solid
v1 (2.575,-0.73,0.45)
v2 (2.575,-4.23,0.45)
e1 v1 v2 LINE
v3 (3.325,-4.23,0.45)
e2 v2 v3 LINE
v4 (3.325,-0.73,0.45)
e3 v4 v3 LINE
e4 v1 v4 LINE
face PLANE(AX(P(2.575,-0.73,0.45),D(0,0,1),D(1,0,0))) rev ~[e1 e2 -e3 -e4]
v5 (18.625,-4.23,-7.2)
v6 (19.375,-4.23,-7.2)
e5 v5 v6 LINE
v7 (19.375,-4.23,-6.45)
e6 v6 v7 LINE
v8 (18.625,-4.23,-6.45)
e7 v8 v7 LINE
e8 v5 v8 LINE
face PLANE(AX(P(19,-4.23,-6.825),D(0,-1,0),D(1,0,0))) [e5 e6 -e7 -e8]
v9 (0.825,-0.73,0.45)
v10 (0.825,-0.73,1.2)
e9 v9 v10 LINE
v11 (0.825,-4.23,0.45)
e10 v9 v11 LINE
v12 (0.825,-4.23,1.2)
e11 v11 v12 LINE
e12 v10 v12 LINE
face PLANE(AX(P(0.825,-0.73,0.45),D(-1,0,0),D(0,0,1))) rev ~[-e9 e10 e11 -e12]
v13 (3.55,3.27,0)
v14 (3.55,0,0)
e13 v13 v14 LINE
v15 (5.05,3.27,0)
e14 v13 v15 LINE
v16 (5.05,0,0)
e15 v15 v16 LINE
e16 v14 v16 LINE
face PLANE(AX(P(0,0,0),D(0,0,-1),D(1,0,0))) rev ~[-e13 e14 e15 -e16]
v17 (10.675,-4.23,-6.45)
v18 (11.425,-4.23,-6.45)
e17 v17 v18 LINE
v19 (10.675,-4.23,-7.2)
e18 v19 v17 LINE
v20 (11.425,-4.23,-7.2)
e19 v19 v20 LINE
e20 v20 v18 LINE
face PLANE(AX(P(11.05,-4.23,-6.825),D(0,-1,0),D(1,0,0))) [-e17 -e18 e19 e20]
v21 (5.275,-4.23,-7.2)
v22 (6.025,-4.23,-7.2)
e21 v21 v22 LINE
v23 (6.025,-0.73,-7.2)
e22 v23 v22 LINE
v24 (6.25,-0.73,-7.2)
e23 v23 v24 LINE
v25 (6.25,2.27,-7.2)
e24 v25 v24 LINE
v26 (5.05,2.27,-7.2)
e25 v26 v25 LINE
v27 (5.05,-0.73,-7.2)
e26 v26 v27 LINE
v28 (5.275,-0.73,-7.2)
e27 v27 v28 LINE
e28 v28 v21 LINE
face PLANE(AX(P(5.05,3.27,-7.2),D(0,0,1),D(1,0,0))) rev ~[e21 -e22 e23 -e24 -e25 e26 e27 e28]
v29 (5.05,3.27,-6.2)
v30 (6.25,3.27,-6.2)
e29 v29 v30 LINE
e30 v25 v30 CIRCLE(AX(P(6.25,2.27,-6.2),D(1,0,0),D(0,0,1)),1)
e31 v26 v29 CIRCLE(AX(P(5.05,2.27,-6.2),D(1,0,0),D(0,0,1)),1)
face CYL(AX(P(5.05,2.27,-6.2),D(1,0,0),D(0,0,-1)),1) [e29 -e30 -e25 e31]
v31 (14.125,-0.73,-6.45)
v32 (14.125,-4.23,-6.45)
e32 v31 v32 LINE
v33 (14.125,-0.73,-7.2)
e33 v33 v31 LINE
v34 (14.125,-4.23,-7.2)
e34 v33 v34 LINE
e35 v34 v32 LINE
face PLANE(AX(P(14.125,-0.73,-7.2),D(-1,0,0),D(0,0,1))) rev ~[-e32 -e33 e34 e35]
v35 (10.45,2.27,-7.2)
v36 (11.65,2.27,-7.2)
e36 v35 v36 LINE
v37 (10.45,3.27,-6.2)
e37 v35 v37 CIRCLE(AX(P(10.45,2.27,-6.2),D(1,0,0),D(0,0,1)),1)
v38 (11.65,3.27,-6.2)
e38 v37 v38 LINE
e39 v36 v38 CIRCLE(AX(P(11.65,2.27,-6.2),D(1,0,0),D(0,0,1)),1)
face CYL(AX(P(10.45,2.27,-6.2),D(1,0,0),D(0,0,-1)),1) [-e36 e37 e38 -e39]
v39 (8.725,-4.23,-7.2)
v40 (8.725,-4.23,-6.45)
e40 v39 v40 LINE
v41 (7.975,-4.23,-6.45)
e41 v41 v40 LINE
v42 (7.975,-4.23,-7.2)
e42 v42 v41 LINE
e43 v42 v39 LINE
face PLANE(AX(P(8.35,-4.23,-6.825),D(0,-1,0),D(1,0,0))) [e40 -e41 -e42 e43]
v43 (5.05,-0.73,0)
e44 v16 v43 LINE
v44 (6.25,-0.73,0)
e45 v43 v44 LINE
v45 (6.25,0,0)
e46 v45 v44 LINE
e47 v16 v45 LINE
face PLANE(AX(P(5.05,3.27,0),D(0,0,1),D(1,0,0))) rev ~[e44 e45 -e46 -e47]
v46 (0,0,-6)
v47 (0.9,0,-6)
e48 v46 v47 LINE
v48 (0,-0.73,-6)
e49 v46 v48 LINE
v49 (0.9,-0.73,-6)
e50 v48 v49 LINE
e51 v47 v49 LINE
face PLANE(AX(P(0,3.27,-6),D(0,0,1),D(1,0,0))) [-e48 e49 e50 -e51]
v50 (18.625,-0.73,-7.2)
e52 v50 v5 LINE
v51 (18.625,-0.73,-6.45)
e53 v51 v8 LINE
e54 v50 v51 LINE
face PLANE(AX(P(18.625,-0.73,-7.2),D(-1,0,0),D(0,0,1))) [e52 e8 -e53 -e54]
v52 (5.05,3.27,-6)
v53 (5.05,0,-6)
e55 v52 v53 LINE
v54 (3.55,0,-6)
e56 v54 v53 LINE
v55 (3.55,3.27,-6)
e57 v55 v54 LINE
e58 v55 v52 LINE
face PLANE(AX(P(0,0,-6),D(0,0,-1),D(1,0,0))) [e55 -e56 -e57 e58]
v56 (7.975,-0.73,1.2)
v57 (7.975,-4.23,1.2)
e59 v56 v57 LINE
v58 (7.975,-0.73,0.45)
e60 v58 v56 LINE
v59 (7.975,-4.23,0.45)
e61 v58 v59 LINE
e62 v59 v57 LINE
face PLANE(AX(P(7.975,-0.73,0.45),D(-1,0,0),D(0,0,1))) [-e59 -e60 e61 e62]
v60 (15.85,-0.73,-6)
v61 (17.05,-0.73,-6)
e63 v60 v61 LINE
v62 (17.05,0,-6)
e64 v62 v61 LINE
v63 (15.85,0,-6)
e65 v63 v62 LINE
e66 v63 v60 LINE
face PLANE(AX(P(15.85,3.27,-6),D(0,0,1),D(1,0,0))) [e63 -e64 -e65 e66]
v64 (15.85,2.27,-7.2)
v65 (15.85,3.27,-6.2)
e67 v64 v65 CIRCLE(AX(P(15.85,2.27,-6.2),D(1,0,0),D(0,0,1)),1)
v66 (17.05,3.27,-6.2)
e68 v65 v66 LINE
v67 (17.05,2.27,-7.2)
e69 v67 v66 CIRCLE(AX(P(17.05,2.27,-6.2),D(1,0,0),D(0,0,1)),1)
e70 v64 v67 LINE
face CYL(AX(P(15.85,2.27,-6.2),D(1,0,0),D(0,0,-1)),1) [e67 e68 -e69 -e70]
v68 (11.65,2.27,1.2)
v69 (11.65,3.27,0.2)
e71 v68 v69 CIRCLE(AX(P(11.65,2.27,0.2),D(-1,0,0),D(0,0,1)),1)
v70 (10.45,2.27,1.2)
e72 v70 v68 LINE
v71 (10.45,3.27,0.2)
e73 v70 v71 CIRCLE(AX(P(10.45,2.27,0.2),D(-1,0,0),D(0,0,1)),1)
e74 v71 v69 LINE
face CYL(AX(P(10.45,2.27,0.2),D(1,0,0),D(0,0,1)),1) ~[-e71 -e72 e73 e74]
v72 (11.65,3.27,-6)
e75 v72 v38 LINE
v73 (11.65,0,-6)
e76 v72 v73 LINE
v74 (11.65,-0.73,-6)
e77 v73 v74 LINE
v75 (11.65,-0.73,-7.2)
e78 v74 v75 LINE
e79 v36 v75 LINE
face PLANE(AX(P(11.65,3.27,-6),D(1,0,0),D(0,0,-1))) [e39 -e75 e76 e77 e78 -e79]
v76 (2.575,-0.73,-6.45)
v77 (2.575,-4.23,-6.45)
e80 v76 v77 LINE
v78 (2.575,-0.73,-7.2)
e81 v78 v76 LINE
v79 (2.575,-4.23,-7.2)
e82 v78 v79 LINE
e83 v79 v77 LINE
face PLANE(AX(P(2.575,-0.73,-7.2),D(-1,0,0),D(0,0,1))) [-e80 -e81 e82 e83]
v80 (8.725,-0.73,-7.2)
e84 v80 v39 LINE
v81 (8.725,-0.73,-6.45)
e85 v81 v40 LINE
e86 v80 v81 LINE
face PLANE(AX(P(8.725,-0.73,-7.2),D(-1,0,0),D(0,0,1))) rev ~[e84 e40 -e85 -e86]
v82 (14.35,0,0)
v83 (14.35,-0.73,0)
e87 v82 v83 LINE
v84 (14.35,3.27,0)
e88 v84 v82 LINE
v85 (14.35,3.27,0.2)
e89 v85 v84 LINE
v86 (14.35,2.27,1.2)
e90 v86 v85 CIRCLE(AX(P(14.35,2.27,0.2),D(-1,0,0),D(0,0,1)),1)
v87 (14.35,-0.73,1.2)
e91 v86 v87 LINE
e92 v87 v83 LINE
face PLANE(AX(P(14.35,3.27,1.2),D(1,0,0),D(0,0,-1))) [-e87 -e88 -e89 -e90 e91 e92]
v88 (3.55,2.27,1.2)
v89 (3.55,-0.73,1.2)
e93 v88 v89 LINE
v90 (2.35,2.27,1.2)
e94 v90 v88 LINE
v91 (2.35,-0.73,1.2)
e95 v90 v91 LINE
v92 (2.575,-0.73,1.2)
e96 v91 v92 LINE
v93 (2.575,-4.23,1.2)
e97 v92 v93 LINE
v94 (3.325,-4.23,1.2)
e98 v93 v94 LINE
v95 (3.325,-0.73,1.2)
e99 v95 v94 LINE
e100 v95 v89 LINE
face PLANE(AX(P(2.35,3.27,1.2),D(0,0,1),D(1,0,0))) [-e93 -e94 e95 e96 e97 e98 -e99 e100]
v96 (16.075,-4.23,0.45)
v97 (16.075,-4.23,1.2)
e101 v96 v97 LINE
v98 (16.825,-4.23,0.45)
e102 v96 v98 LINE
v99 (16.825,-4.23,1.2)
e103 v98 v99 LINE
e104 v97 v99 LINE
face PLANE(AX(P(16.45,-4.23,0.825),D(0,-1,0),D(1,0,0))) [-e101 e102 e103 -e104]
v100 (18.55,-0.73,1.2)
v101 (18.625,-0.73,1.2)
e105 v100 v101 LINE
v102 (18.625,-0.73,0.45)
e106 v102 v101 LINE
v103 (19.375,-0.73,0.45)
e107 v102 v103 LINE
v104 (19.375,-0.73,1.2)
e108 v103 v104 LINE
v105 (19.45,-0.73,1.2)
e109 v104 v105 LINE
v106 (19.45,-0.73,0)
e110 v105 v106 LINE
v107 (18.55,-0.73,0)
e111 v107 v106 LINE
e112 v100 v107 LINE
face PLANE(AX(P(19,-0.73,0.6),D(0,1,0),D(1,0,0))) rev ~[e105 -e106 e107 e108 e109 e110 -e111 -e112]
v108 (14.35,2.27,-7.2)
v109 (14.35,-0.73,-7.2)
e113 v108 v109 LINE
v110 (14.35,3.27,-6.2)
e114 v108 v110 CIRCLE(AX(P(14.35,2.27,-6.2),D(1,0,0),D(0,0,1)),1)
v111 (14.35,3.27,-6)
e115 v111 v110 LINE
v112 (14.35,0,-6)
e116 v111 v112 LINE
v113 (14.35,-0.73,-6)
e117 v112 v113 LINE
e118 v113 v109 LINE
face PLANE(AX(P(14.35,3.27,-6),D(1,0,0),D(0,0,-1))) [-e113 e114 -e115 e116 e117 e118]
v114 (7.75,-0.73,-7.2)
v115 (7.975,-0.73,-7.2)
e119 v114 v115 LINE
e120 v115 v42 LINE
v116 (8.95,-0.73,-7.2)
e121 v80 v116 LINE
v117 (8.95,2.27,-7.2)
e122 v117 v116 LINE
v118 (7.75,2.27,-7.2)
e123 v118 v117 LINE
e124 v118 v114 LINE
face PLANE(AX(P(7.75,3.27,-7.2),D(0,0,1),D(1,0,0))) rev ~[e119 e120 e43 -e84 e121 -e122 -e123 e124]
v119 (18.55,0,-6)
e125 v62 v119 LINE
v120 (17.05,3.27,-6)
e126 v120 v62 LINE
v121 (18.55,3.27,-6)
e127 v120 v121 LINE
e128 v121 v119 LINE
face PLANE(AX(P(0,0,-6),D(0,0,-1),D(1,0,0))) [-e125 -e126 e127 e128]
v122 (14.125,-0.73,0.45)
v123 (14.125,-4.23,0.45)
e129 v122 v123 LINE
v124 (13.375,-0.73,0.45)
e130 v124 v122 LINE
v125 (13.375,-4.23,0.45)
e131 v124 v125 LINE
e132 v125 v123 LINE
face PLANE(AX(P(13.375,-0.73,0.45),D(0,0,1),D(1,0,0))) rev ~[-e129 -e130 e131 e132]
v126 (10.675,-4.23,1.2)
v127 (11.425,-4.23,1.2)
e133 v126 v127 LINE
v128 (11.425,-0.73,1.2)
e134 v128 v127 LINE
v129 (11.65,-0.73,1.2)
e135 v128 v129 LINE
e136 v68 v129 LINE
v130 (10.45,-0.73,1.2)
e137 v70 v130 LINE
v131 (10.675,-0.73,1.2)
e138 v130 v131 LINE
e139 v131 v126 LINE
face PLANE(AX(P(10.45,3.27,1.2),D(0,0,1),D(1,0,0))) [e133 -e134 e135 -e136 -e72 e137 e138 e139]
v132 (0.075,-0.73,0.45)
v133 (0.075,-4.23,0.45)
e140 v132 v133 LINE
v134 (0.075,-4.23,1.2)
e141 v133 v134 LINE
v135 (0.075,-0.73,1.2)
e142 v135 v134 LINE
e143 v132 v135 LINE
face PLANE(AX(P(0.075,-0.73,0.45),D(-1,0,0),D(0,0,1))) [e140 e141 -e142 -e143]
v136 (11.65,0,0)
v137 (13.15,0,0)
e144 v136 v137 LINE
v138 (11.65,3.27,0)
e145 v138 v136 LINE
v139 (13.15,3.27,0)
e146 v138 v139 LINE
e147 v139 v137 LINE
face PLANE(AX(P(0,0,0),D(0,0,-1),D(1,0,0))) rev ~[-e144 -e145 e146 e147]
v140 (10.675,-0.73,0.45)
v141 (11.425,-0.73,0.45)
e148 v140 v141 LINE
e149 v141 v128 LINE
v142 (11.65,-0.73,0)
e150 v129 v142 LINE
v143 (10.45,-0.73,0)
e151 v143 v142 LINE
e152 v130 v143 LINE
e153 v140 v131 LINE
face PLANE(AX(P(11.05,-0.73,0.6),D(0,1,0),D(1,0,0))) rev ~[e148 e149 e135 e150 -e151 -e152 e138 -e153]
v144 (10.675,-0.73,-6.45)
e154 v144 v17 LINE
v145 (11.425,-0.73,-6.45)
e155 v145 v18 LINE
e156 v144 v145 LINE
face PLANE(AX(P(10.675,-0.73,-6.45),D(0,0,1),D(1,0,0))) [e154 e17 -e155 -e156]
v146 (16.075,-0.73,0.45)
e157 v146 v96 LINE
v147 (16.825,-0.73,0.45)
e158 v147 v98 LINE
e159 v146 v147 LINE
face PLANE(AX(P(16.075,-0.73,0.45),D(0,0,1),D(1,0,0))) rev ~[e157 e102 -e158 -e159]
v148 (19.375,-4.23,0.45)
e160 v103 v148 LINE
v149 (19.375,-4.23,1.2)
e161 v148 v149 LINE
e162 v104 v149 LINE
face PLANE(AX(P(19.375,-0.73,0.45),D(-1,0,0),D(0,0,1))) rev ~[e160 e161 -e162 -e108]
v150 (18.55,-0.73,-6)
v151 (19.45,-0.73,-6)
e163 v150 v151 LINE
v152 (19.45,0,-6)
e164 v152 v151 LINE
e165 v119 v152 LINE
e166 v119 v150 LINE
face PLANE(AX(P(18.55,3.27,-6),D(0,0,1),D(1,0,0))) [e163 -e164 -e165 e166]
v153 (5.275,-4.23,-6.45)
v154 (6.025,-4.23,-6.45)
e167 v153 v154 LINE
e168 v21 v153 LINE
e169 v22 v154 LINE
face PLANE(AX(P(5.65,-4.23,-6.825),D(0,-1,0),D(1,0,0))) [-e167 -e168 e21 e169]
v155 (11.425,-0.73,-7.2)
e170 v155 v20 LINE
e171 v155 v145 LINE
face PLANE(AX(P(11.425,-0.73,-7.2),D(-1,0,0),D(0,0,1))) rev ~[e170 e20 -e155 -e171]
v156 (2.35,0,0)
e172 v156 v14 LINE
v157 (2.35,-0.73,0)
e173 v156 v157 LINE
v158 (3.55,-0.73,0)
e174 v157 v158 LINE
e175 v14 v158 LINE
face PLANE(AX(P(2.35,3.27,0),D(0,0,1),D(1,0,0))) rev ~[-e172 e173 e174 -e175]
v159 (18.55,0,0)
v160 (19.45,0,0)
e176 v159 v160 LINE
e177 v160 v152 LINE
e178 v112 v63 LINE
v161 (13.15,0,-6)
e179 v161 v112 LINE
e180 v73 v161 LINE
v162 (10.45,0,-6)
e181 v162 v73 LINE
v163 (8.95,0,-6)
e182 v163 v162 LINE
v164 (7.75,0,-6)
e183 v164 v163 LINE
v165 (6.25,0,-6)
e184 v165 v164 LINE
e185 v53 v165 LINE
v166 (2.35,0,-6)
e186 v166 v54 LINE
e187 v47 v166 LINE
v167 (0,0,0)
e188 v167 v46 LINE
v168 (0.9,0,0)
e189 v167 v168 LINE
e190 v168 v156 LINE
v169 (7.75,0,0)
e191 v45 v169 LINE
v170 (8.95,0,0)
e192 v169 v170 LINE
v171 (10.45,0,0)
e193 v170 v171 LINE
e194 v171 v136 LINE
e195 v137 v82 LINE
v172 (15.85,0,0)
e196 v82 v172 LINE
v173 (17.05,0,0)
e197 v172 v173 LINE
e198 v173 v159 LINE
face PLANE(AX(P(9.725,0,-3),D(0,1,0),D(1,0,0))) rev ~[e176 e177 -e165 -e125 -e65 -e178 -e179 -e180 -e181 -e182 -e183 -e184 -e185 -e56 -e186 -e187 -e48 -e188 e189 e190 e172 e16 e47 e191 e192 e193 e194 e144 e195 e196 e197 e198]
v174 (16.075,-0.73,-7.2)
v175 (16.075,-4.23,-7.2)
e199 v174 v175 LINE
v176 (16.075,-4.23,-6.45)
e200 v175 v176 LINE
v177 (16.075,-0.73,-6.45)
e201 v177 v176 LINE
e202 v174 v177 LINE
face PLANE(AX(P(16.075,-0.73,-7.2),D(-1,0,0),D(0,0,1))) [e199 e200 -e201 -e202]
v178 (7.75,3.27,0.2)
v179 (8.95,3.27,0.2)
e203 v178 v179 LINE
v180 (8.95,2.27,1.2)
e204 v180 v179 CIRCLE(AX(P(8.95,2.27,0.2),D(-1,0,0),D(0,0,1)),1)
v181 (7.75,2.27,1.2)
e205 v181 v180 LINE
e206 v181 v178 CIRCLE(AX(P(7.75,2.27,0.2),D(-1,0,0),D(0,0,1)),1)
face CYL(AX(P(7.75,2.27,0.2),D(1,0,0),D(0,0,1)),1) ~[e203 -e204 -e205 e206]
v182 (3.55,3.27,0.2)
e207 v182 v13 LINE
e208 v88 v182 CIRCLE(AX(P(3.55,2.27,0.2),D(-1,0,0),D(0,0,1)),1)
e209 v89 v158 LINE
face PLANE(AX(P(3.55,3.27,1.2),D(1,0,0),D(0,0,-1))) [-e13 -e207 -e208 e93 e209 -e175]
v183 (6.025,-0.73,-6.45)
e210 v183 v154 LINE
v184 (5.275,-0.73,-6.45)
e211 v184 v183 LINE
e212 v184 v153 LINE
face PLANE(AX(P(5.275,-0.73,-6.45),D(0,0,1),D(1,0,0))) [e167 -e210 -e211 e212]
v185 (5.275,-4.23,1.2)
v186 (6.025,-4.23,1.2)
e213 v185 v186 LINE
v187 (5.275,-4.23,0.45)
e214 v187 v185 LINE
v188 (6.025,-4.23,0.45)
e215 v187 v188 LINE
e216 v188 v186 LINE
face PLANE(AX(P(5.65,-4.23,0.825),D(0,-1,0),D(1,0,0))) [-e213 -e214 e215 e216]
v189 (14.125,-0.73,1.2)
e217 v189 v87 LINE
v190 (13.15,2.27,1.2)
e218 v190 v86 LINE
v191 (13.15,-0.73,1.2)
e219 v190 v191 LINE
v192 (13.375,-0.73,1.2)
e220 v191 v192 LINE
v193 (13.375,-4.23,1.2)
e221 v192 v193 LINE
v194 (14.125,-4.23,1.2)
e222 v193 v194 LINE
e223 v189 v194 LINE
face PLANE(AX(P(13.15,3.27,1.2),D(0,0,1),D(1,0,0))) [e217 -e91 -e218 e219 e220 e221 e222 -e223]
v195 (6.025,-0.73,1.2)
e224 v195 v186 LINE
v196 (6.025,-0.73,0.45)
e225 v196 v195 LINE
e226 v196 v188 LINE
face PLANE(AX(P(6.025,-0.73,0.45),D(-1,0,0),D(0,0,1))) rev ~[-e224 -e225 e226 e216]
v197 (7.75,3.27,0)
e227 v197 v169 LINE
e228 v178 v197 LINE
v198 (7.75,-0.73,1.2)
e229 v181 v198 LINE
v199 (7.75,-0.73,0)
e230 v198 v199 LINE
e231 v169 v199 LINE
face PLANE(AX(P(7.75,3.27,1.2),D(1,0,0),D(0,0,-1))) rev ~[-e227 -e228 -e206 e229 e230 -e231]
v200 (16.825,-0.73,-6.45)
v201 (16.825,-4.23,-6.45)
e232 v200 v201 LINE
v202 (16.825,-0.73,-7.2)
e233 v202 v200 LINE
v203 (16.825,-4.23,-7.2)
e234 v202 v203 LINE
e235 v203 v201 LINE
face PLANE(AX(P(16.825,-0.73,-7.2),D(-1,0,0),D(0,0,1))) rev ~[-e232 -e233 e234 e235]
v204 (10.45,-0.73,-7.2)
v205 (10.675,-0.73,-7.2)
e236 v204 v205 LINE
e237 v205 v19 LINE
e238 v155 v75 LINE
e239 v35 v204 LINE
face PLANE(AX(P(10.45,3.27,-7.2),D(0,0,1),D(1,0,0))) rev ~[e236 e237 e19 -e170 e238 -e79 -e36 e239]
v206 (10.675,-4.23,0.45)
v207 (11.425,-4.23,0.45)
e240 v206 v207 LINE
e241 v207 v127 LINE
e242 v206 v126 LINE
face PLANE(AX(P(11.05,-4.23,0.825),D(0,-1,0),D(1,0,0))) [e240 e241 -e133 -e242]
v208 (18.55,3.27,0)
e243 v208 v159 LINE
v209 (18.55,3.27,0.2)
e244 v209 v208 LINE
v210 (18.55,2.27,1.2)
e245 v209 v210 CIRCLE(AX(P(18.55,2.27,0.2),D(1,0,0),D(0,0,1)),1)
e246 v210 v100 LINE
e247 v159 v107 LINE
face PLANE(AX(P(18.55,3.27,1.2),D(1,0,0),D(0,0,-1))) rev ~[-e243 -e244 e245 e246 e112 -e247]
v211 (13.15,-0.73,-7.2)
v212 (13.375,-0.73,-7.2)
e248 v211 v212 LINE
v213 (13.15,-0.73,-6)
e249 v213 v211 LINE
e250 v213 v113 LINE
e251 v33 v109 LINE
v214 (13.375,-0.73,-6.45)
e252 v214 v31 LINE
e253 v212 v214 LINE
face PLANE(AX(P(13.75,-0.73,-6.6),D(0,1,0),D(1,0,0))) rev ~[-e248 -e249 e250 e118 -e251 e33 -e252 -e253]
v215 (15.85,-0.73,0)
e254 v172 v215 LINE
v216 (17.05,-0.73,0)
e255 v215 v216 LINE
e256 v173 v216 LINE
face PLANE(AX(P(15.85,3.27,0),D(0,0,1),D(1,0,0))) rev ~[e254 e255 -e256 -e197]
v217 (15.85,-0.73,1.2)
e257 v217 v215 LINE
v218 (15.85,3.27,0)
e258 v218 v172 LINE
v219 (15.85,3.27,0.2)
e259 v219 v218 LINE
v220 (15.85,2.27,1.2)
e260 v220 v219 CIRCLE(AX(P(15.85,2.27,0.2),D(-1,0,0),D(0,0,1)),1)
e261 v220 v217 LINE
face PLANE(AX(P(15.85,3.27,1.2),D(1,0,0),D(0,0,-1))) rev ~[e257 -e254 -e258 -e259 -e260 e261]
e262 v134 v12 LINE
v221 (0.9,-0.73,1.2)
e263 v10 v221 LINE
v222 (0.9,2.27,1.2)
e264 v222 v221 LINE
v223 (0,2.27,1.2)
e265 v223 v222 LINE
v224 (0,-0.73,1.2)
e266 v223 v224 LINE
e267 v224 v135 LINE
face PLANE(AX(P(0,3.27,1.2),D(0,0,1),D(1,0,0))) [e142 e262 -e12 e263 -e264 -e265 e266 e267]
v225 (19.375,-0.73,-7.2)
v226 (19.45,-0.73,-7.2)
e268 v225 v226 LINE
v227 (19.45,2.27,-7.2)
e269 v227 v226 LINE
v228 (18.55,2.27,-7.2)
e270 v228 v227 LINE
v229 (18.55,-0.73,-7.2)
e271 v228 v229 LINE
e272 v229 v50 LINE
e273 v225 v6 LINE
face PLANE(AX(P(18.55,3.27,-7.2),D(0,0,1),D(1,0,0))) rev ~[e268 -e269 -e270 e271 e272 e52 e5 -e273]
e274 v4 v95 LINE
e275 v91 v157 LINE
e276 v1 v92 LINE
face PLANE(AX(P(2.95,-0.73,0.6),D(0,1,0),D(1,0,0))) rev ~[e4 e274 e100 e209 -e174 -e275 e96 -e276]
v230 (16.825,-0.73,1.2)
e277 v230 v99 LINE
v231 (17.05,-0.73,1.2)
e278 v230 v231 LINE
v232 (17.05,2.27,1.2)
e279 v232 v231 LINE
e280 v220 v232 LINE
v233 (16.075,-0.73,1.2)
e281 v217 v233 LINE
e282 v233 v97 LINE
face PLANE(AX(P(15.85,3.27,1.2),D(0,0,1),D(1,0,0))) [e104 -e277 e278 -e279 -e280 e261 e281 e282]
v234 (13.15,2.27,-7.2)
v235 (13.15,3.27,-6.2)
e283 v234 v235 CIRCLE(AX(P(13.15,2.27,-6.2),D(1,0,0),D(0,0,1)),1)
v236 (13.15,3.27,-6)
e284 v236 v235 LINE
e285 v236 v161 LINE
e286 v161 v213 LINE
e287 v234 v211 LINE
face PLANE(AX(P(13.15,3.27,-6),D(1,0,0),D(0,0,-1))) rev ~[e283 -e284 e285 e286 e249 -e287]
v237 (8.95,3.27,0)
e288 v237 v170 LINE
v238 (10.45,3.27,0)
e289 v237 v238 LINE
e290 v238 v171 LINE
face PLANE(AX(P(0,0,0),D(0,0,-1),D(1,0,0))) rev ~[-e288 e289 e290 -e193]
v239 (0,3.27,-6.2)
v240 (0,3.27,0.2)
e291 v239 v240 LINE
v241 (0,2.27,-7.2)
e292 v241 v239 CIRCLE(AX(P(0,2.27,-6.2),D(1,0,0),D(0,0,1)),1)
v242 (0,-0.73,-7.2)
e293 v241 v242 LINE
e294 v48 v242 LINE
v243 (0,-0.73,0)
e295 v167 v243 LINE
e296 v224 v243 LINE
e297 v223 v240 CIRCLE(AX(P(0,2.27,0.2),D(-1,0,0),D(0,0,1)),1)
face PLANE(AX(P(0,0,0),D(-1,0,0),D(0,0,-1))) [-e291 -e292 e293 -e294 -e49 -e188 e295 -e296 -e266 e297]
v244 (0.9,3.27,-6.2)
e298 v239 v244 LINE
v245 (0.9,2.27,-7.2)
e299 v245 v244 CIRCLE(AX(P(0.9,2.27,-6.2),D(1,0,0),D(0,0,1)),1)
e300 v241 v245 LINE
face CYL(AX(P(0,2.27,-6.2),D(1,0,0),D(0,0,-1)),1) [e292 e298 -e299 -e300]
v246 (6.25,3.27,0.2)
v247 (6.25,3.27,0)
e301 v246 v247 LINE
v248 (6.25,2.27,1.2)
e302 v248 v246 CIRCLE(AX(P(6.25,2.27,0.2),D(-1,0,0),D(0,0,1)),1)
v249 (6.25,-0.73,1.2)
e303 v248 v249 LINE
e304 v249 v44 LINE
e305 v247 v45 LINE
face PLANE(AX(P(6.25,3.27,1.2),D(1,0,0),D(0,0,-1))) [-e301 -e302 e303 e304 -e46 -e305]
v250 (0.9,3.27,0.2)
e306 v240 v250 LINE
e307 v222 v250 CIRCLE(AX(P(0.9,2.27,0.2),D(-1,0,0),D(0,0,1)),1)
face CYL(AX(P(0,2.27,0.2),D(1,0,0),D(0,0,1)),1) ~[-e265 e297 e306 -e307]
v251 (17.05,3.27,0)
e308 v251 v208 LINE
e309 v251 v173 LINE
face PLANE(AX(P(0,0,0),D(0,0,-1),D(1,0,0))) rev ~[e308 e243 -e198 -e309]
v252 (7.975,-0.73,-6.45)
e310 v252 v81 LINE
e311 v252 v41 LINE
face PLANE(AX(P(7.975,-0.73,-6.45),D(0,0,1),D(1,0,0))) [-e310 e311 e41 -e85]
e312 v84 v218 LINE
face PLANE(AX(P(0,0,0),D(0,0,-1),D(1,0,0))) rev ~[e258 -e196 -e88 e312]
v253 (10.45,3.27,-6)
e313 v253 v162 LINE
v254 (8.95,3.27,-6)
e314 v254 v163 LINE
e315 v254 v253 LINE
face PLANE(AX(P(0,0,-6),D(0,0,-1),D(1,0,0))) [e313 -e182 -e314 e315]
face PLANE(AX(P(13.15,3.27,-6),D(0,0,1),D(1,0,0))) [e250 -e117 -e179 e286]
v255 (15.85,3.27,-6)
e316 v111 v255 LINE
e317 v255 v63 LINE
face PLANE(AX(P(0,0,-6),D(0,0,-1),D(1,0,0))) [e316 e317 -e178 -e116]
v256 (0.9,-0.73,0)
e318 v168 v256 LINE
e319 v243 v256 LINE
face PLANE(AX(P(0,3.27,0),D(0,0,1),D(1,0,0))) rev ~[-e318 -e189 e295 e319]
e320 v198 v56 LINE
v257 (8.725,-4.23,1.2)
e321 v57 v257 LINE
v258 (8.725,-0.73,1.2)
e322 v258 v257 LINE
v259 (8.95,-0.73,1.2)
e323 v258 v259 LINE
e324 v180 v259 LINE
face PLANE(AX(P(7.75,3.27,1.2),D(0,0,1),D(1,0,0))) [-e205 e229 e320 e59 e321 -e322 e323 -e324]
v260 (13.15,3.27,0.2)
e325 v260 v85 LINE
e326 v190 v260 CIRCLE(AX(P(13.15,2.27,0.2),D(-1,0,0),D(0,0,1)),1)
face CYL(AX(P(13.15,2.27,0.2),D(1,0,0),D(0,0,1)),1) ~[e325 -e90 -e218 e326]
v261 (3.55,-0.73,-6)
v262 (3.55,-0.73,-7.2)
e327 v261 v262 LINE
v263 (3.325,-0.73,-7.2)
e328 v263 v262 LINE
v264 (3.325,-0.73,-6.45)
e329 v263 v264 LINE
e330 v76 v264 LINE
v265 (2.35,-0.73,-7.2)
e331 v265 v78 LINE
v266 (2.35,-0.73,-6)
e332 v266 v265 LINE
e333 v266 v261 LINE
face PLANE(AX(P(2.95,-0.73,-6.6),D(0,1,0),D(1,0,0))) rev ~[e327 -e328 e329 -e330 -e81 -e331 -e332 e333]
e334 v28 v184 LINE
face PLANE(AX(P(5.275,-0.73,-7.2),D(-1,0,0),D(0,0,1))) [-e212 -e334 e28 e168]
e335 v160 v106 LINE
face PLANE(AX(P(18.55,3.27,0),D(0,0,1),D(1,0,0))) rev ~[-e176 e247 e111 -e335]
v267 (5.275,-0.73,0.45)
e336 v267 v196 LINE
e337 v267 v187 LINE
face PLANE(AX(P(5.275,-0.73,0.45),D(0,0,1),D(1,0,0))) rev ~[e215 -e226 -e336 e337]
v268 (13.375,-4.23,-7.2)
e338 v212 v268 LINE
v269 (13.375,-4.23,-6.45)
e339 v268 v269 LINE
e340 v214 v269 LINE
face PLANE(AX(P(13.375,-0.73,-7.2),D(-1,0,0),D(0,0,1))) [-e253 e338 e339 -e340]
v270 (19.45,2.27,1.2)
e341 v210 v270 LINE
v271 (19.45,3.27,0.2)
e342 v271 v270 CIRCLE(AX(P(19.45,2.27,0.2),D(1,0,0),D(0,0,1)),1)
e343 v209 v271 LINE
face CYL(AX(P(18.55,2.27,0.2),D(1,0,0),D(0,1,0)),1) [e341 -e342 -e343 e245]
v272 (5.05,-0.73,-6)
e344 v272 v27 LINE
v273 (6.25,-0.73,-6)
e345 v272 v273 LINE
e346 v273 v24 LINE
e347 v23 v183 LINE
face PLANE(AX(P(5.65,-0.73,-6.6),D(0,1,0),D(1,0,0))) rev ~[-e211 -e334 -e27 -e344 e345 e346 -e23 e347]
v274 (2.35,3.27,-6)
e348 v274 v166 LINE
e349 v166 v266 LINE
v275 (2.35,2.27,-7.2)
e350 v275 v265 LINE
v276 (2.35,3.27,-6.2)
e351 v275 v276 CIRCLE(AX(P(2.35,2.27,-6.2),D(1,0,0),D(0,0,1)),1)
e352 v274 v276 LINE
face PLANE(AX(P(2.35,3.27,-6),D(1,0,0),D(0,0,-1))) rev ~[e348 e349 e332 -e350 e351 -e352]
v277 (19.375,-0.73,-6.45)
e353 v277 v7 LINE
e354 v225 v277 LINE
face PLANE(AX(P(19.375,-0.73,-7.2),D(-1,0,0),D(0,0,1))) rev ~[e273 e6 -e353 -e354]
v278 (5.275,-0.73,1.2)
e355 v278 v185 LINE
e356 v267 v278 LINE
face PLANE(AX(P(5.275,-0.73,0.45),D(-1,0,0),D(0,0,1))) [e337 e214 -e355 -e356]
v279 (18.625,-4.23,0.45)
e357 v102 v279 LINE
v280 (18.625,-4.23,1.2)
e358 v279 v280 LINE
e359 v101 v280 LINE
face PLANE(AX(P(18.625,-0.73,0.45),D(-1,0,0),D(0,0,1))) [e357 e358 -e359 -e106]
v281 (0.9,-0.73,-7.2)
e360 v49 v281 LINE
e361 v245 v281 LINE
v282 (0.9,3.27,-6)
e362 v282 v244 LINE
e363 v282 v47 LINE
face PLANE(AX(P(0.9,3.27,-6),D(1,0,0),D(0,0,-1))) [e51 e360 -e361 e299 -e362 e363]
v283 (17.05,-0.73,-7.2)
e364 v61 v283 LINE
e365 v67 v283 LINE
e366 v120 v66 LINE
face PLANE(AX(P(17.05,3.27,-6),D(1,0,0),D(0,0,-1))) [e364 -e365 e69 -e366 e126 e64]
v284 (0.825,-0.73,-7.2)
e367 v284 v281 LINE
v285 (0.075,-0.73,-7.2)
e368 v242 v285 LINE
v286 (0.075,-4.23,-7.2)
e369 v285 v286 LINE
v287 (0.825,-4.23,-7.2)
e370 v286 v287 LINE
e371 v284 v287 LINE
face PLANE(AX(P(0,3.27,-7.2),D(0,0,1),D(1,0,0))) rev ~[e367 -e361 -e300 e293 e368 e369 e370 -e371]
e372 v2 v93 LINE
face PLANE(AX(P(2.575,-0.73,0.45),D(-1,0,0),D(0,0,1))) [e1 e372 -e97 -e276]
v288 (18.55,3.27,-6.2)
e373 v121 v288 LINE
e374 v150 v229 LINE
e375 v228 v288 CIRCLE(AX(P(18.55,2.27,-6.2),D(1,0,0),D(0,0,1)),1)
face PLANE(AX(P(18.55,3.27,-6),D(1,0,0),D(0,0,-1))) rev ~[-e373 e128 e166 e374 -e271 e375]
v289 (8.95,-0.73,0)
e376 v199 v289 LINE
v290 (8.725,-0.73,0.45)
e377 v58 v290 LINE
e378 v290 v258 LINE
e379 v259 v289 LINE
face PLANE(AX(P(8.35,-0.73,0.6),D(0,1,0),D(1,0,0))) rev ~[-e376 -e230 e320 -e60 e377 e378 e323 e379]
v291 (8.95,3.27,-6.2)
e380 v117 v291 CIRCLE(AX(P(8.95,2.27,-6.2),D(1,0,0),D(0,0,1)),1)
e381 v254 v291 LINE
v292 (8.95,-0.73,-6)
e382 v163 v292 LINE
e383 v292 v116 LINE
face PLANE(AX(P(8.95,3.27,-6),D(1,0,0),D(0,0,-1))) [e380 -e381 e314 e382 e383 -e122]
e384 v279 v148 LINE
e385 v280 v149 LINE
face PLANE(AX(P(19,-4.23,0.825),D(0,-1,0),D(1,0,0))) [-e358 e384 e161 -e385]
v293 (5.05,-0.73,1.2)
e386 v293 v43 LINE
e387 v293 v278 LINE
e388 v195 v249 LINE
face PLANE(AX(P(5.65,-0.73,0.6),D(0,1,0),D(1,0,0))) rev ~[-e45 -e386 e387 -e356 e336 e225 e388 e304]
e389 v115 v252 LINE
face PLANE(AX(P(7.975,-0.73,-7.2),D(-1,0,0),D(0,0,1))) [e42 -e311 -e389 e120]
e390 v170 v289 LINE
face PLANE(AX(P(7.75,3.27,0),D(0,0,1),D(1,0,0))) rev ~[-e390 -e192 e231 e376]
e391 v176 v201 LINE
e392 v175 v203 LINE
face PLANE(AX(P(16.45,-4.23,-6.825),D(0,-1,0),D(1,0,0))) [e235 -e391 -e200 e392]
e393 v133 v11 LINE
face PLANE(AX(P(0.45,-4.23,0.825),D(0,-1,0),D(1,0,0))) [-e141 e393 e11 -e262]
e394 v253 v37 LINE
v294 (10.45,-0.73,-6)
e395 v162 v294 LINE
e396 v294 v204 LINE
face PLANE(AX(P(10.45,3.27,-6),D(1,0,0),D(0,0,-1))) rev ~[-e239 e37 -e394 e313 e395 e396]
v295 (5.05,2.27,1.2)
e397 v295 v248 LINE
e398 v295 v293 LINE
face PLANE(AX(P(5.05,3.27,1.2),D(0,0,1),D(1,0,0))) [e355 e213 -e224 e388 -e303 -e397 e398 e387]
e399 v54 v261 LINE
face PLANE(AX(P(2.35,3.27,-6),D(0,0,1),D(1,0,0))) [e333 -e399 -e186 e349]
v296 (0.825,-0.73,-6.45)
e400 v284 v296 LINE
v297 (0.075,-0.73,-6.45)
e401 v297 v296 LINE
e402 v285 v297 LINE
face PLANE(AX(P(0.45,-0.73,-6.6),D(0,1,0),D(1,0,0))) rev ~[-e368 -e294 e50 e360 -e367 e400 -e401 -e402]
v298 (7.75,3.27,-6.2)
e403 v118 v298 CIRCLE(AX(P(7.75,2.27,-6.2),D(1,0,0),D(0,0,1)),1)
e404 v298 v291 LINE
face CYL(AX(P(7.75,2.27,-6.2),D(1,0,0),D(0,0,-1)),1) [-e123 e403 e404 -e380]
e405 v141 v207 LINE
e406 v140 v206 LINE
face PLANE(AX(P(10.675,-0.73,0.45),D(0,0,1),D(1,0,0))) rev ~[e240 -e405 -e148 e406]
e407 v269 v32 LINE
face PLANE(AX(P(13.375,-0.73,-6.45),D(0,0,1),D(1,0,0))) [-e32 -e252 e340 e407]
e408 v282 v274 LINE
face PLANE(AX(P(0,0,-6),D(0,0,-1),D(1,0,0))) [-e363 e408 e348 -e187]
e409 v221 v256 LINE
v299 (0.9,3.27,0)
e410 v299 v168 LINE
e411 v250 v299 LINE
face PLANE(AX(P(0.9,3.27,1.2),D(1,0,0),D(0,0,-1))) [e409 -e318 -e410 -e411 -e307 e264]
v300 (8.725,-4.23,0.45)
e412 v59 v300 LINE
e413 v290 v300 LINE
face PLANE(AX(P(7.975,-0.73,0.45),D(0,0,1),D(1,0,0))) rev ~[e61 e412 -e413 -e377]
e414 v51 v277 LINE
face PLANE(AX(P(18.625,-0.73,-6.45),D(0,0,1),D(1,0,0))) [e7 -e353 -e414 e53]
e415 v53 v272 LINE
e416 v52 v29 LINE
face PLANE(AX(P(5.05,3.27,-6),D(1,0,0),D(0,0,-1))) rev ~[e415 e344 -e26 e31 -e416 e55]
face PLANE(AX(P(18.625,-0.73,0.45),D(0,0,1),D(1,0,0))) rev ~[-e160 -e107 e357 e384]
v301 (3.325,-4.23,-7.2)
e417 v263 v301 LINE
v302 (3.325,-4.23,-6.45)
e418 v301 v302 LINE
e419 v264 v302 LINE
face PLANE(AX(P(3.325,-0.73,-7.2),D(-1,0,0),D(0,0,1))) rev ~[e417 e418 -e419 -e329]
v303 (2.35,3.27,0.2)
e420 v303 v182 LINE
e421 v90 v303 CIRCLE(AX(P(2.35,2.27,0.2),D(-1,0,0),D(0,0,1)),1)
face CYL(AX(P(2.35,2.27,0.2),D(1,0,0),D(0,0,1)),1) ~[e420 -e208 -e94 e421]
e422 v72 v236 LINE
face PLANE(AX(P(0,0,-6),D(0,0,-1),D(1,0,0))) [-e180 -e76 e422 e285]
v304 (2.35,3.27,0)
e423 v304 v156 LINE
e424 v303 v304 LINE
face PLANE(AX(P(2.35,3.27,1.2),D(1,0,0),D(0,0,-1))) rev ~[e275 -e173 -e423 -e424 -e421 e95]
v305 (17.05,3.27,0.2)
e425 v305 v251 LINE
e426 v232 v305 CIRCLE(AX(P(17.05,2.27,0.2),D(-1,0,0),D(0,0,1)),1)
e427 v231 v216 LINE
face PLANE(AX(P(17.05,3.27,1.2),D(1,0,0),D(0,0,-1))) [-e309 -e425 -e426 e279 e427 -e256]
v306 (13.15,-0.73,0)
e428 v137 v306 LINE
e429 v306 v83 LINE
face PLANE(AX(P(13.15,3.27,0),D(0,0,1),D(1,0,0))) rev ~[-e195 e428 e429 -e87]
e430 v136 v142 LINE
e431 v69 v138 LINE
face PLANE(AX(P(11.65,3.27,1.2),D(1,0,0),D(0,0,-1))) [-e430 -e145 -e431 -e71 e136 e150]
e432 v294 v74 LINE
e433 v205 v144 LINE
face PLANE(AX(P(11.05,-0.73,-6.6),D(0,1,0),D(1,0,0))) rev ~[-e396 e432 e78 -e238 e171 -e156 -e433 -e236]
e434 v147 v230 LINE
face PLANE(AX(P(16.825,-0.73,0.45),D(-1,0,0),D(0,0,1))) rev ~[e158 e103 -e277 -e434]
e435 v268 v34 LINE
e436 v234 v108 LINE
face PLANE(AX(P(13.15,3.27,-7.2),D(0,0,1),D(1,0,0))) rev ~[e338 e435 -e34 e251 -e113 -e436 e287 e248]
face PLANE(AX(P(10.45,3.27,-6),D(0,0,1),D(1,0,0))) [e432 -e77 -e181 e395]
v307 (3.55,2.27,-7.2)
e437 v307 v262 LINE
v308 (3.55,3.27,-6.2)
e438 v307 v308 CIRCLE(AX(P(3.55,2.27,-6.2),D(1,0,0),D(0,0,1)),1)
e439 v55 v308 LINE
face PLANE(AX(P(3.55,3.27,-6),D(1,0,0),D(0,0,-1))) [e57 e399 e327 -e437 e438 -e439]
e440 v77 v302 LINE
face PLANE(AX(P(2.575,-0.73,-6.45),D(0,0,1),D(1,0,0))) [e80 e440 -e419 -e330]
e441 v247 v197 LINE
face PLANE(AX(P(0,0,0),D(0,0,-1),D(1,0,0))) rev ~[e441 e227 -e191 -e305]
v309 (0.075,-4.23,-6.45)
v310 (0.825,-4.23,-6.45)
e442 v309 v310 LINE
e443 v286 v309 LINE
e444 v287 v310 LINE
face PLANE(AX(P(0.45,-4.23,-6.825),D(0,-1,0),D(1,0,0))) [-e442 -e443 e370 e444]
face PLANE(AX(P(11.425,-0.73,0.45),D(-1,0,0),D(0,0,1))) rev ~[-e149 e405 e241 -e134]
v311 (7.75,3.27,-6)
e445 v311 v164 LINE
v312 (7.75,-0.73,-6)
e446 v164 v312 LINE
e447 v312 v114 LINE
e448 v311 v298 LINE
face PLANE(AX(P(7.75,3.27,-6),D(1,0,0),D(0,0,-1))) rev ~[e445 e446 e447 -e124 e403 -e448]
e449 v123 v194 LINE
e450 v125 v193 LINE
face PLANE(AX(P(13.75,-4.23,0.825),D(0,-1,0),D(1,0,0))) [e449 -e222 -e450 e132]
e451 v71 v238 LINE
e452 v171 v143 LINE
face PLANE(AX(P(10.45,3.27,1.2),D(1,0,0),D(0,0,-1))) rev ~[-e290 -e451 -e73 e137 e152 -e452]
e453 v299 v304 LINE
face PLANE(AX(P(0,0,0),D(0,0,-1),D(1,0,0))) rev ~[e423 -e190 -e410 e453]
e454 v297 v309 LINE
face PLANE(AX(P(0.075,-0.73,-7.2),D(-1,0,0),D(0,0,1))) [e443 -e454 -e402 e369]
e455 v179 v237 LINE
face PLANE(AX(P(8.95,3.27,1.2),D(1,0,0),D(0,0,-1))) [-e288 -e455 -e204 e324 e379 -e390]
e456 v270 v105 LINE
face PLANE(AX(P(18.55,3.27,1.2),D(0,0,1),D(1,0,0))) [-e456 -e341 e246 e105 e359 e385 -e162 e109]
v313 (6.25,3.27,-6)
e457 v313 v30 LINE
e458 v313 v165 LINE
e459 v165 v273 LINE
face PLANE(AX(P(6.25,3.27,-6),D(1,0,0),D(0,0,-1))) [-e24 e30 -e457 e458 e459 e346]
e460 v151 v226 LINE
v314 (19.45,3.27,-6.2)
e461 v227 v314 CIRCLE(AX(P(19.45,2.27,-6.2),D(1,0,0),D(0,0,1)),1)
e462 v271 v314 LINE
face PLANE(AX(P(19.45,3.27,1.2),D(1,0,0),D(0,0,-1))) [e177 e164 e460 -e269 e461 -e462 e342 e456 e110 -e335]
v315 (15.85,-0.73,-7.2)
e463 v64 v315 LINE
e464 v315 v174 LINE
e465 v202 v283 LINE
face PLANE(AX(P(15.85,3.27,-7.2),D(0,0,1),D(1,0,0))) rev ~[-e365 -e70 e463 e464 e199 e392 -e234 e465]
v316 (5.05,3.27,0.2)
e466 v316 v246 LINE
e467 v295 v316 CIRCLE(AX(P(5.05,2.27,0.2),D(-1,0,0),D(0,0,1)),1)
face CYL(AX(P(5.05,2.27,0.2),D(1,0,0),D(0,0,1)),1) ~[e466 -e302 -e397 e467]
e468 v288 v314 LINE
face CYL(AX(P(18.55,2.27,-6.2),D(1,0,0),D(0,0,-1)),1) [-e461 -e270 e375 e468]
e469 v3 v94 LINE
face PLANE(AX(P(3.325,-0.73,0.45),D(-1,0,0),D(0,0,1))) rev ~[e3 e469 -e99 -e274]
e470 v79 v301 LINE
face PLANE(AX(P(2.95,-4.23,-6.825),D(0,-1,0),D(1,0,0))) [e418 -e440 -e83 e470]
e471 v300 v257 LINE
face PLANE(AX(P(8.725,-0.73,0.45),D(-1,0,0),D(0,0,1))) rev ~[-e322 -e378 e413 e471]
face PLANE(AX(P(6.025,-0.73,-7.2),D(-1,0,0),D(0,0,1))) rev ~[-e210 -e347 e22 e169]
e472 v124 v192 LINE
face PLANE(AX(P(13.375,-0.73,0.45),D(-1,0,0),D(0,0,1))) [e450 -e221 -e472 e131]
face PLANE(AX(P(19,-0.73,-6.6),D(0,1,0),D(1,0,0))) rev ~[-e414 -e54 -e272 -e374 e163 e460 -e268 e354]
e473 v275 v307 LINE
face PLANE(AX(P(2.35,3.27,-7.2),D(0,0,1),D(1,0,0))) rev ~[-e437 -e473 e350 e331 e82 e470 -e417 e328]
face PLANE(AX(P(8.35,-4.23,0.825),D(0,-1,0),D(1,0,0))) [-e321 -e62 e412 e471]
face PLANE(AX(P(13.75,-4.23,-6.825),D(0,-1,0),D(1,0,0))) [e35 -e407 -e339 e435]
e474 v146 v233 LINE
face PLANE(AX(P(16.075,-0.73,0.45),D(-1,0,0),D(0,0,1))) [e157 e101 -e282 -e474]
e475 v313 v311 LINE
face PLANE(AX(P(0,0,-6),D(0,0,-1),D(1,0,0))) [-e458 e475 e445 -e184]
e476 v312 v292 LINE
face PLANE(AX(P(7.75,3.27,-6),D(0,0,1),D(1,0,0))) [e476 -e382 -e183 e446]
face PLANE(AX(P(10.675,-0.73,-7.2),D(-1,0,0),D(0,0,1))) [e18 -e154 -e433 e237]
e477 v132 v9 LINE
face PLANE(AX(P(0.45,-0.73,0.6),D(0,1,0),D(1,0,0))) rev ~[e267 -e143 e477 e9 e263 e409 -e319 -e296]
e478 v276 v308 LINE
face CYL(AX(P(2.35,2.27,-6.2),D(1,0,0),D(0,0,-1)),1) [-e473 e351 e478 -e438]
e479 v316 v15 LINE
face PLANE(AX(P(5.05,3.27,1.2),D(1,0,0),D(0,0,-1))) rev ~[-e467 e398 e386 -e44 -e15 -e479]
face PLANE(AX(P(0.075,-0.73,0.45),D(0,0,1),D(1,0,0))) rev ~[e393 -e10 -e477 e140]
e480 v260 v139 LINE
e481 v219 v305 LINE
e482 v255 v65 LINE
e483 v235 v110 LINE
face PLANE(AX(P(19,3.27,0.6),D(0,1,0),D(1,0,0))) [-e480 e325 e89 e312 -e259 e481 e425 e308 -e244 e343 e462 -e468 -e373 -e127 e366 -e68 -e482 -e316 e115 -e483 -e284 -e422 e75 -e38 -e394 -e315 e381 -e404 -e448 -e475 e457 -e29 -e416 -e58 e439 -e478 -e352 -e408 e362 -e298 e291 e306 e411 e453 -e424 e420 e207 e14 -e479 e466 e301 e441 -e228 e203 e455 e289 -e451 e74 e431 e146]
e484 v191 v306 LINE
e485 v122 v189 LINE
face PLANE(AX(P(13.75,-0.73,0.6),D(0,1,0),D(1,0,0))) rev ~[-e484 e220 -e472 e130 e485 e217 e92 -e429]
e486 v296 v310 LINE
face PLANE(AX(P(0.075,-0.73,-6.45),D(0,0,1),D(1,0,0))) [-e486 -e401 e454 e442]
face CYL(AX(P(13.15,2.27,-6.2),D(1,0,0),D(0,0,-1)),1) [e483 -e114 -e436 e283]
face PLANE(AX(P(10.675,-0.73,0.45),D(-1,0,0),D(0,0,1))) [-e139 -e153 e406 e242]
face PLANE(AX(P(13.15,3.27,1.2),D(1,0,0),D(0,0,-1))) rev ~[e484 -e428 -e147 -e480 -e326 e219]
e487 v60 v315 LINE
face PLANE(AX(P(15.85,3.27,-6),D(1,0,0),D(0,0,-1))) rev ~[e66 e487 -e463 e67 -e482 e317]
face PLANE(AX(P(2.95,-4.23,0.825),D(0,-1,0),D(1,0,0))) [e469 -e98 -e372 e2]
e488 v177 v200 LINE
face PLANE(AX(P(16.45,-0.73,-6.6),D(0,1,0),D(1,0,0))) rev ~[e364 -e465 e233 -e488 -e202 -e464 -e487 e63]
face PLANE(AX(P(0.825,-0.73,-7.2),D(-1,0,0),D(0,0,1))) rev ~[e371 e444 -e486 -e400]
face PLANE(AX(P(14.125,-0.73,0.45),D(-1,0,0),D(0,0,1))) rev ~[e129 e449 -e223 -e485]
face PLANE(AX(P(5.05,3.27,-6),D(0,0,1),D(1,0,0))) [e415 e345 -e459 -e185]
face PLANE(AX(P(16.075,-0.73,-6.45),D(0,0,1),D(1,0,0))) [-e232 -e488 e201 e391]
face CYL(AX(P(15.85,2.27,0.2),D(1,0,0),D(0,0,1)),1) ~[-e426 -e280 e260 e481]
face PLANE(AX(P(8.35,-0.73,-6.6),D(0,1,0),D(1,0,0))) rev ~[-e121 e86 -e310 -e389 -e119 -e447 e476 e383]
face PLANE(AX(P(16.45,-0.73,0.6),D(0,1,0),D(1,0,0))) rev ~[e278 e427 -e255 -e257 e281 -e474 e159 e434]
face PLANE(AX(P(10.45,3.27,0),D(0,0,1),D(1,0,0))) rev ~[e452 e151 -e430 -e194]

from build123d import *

# Parameters (mm, degrees)
SKETCH1_W           = 19.45
SKETCH1_H           = 6
BOSS_EXTRUDE1_DEPTH = 3.27
SKETCH2_W           = 0.9
SKETCH2_H           = 1.2
SKETCH2_W_2         = 1.2
BOSS_EXTRUDE2_DEPTH = 4
FILLET1_R           = 1
SKETCH3_W           = 0.75
SKETCH3_H           = 0.75
BOSS_EXTRUDE3_DEPTH = 3.5


with BuildPart() as part:
    # Sketch1 → Boss-Extrude1 (new body)
    with BuildSketch(Plane(origin=(0, 0, 0), x_dir=(1, 0, 0), z_dir=(0, 1, 0))):
        with Locations((9.725, 3)):
            Rectangle(SKETCH1_W, SKETCH1_H)
    extrude(amount=BOSS_EXTRUDE1_DEPTH)

    # Sketch2 → Boss-Extrude2 (add)
    with BuildSketch(Plane(origin=(0, 3.27, 0), x_dir=(1, 0, 0), z_dir=(0, 1, 0))):
        with Locations((19, -0.6)):
            Rectangle(SKETCH2_W, SKETCH2_H)
        with Locations((16.45, -0.6)):
            Rectangle(SKETCH2_W_2, SKETCH2_H)
        with Locations((13.75, -0.6)):
            Rectangle(SKETCH2_W_2, SKETCH2_H)
        with Locations((11.05, -0.6)):
            Rectangle(SKETCH2_W_2, SKETCH2_H)
        with Locations((8.35, -0.6)):
            Rectangle(SKETCH2_W_2, SKETCH2_H)
        with Locations((5.65, -0.6)):
            Rectangle(SKETCH2_W_2, SKETCH2_H)
        with Locations((2.95, -0.6)):
            Rectangle(SKETCH2_W_2, SKETCH2_H)
        with Locations((0.45, -0.6)):
            Rectangle(SKETCH2_W, SKETCH2_H)
        with Locations((0.45, 6.6)):
            Rectangle(SKETCH2_W, SKETCH2_H)
        with Locations((2.95, 6.6)):
            Rectangle(SKETCH2_W_2, SKETCH2_H)
        with Locations((5.65, 6.6)):
            Rectangle(SKETCH2_W_2, SKETCH2_H)
        with Locations((8.35, 6.6)):
            Rectangle(SKETCH2_W_2, SKETCH2_H)
        with Locations((11.05, 6.6)):
            Rectangle(SKETCH2_W_2, SKETCH2_H)
        with Locations((13.75, 6.6)):
            Rectangle(SKETCH2_W_2, SKETCH2_H)
        with Locations((16.45, 6.6)):
            Rectangle(SKETCH2_W_2, SKETCH2_H)
        with Locations((19, 6.6)):
            Rectangle(SKETCH2_W, SKETCH2_H)
    extrude(amount=-BOSS_EXTRUDE2_DEPTH)

    # Fillet1
    fillet1_edges = [part.edges().sort_by_distance(p)[0] for p in [
        (0.45, 3.27, 1.2),
        (0.45, 3.27, -7.2),
        (2.95, 3.27, -7.2),
        (5.65, 3.27, -7.2),
        (8.35, 3.27, -7.2),
        (19, 3.27, 1.2),
        (11.05, 3.27, -7.2),
        (13.75, 3.27, -7.2),
        (16.45, 3.27, -7.2),
        (19, 3.27, -7.2),
        (16.45, 3.27, 1.2),
        (13.75, 3.27, 1.2),
        (11.05, 3.27, 1.2),
        (8.35, 3.27, 1.2),
        (5.65, 3.27, 1.2),
        (2.95, 3.27, 1.2),
    ]]
    fillet(fillet1_edges, radius=FILLET1_R)

    # Sketch3 → Boss-Extrude3 (add)
    with BuildSketch(Plane.XZ.offset(0.73)):
        with Locations((19, 0.825)):
            Rectangle(SKETCH3_W, SKETCH3_H)
        with Locations((16.45, 0.825)):
            Rectangle(SKETCH3_W, SKETCH3_H)
        with Locations((13.75, 0.825)):
            Rectangle(SKETCH3_W, SKETCH3_H)
        with Locations((11.05, 0.825)):
            Rectangle(SKETCH3_W, SKETCH3_H)
        with Locations((8.35, 0.825)):
            Rectangle(SKETCH3_W, SKETCH3_H)
        with Locations((5.65, 0.825)):
            Rectangle(SKETCH3_W, SKETCH3_H)
        with Locations((2.95, 0.825)):
            Rectangle(SKETCH3_W, SKETCH3_H)
        with Locations((0.45, 0.825)):
            Rectangle(SKETCH3_W, SKETCH3_H)
        with Locations((0.45, -6.825)):
            Rectangle(SKETCH3_W, SKETCH3_H)
        with Locations((2.95, -6.825)):
            Rectangle(SKETCH3_W, SKETCH3_H)
        with Locations((5.65, -6.825)):
            Rectangle(SKETCH3_W, SKETCH3_H)
        with Locations((11.05, -6.825)):
            Rectangle(SKETCH3_W, SKETCH3_H)
        with Locations((8.35, -6.825)):
            Rectangle(SKETCH3_W, SKETCH3_H)
        with Locations((13.75, -6.825)):
            Rectangle(SKETCH3_W, SKETCH3_H)
        with Locations((16.45, -6.825)):
            Rectangle(SKETCH3_W, SKETCH3_H)
        with Locations((19, -6.825)):
            Rectangle(SKETCH3_W, SKETCH3_H)
    extrude(amount=BOSS_EXTRUDE3_DEPTH)


solid = part.part
